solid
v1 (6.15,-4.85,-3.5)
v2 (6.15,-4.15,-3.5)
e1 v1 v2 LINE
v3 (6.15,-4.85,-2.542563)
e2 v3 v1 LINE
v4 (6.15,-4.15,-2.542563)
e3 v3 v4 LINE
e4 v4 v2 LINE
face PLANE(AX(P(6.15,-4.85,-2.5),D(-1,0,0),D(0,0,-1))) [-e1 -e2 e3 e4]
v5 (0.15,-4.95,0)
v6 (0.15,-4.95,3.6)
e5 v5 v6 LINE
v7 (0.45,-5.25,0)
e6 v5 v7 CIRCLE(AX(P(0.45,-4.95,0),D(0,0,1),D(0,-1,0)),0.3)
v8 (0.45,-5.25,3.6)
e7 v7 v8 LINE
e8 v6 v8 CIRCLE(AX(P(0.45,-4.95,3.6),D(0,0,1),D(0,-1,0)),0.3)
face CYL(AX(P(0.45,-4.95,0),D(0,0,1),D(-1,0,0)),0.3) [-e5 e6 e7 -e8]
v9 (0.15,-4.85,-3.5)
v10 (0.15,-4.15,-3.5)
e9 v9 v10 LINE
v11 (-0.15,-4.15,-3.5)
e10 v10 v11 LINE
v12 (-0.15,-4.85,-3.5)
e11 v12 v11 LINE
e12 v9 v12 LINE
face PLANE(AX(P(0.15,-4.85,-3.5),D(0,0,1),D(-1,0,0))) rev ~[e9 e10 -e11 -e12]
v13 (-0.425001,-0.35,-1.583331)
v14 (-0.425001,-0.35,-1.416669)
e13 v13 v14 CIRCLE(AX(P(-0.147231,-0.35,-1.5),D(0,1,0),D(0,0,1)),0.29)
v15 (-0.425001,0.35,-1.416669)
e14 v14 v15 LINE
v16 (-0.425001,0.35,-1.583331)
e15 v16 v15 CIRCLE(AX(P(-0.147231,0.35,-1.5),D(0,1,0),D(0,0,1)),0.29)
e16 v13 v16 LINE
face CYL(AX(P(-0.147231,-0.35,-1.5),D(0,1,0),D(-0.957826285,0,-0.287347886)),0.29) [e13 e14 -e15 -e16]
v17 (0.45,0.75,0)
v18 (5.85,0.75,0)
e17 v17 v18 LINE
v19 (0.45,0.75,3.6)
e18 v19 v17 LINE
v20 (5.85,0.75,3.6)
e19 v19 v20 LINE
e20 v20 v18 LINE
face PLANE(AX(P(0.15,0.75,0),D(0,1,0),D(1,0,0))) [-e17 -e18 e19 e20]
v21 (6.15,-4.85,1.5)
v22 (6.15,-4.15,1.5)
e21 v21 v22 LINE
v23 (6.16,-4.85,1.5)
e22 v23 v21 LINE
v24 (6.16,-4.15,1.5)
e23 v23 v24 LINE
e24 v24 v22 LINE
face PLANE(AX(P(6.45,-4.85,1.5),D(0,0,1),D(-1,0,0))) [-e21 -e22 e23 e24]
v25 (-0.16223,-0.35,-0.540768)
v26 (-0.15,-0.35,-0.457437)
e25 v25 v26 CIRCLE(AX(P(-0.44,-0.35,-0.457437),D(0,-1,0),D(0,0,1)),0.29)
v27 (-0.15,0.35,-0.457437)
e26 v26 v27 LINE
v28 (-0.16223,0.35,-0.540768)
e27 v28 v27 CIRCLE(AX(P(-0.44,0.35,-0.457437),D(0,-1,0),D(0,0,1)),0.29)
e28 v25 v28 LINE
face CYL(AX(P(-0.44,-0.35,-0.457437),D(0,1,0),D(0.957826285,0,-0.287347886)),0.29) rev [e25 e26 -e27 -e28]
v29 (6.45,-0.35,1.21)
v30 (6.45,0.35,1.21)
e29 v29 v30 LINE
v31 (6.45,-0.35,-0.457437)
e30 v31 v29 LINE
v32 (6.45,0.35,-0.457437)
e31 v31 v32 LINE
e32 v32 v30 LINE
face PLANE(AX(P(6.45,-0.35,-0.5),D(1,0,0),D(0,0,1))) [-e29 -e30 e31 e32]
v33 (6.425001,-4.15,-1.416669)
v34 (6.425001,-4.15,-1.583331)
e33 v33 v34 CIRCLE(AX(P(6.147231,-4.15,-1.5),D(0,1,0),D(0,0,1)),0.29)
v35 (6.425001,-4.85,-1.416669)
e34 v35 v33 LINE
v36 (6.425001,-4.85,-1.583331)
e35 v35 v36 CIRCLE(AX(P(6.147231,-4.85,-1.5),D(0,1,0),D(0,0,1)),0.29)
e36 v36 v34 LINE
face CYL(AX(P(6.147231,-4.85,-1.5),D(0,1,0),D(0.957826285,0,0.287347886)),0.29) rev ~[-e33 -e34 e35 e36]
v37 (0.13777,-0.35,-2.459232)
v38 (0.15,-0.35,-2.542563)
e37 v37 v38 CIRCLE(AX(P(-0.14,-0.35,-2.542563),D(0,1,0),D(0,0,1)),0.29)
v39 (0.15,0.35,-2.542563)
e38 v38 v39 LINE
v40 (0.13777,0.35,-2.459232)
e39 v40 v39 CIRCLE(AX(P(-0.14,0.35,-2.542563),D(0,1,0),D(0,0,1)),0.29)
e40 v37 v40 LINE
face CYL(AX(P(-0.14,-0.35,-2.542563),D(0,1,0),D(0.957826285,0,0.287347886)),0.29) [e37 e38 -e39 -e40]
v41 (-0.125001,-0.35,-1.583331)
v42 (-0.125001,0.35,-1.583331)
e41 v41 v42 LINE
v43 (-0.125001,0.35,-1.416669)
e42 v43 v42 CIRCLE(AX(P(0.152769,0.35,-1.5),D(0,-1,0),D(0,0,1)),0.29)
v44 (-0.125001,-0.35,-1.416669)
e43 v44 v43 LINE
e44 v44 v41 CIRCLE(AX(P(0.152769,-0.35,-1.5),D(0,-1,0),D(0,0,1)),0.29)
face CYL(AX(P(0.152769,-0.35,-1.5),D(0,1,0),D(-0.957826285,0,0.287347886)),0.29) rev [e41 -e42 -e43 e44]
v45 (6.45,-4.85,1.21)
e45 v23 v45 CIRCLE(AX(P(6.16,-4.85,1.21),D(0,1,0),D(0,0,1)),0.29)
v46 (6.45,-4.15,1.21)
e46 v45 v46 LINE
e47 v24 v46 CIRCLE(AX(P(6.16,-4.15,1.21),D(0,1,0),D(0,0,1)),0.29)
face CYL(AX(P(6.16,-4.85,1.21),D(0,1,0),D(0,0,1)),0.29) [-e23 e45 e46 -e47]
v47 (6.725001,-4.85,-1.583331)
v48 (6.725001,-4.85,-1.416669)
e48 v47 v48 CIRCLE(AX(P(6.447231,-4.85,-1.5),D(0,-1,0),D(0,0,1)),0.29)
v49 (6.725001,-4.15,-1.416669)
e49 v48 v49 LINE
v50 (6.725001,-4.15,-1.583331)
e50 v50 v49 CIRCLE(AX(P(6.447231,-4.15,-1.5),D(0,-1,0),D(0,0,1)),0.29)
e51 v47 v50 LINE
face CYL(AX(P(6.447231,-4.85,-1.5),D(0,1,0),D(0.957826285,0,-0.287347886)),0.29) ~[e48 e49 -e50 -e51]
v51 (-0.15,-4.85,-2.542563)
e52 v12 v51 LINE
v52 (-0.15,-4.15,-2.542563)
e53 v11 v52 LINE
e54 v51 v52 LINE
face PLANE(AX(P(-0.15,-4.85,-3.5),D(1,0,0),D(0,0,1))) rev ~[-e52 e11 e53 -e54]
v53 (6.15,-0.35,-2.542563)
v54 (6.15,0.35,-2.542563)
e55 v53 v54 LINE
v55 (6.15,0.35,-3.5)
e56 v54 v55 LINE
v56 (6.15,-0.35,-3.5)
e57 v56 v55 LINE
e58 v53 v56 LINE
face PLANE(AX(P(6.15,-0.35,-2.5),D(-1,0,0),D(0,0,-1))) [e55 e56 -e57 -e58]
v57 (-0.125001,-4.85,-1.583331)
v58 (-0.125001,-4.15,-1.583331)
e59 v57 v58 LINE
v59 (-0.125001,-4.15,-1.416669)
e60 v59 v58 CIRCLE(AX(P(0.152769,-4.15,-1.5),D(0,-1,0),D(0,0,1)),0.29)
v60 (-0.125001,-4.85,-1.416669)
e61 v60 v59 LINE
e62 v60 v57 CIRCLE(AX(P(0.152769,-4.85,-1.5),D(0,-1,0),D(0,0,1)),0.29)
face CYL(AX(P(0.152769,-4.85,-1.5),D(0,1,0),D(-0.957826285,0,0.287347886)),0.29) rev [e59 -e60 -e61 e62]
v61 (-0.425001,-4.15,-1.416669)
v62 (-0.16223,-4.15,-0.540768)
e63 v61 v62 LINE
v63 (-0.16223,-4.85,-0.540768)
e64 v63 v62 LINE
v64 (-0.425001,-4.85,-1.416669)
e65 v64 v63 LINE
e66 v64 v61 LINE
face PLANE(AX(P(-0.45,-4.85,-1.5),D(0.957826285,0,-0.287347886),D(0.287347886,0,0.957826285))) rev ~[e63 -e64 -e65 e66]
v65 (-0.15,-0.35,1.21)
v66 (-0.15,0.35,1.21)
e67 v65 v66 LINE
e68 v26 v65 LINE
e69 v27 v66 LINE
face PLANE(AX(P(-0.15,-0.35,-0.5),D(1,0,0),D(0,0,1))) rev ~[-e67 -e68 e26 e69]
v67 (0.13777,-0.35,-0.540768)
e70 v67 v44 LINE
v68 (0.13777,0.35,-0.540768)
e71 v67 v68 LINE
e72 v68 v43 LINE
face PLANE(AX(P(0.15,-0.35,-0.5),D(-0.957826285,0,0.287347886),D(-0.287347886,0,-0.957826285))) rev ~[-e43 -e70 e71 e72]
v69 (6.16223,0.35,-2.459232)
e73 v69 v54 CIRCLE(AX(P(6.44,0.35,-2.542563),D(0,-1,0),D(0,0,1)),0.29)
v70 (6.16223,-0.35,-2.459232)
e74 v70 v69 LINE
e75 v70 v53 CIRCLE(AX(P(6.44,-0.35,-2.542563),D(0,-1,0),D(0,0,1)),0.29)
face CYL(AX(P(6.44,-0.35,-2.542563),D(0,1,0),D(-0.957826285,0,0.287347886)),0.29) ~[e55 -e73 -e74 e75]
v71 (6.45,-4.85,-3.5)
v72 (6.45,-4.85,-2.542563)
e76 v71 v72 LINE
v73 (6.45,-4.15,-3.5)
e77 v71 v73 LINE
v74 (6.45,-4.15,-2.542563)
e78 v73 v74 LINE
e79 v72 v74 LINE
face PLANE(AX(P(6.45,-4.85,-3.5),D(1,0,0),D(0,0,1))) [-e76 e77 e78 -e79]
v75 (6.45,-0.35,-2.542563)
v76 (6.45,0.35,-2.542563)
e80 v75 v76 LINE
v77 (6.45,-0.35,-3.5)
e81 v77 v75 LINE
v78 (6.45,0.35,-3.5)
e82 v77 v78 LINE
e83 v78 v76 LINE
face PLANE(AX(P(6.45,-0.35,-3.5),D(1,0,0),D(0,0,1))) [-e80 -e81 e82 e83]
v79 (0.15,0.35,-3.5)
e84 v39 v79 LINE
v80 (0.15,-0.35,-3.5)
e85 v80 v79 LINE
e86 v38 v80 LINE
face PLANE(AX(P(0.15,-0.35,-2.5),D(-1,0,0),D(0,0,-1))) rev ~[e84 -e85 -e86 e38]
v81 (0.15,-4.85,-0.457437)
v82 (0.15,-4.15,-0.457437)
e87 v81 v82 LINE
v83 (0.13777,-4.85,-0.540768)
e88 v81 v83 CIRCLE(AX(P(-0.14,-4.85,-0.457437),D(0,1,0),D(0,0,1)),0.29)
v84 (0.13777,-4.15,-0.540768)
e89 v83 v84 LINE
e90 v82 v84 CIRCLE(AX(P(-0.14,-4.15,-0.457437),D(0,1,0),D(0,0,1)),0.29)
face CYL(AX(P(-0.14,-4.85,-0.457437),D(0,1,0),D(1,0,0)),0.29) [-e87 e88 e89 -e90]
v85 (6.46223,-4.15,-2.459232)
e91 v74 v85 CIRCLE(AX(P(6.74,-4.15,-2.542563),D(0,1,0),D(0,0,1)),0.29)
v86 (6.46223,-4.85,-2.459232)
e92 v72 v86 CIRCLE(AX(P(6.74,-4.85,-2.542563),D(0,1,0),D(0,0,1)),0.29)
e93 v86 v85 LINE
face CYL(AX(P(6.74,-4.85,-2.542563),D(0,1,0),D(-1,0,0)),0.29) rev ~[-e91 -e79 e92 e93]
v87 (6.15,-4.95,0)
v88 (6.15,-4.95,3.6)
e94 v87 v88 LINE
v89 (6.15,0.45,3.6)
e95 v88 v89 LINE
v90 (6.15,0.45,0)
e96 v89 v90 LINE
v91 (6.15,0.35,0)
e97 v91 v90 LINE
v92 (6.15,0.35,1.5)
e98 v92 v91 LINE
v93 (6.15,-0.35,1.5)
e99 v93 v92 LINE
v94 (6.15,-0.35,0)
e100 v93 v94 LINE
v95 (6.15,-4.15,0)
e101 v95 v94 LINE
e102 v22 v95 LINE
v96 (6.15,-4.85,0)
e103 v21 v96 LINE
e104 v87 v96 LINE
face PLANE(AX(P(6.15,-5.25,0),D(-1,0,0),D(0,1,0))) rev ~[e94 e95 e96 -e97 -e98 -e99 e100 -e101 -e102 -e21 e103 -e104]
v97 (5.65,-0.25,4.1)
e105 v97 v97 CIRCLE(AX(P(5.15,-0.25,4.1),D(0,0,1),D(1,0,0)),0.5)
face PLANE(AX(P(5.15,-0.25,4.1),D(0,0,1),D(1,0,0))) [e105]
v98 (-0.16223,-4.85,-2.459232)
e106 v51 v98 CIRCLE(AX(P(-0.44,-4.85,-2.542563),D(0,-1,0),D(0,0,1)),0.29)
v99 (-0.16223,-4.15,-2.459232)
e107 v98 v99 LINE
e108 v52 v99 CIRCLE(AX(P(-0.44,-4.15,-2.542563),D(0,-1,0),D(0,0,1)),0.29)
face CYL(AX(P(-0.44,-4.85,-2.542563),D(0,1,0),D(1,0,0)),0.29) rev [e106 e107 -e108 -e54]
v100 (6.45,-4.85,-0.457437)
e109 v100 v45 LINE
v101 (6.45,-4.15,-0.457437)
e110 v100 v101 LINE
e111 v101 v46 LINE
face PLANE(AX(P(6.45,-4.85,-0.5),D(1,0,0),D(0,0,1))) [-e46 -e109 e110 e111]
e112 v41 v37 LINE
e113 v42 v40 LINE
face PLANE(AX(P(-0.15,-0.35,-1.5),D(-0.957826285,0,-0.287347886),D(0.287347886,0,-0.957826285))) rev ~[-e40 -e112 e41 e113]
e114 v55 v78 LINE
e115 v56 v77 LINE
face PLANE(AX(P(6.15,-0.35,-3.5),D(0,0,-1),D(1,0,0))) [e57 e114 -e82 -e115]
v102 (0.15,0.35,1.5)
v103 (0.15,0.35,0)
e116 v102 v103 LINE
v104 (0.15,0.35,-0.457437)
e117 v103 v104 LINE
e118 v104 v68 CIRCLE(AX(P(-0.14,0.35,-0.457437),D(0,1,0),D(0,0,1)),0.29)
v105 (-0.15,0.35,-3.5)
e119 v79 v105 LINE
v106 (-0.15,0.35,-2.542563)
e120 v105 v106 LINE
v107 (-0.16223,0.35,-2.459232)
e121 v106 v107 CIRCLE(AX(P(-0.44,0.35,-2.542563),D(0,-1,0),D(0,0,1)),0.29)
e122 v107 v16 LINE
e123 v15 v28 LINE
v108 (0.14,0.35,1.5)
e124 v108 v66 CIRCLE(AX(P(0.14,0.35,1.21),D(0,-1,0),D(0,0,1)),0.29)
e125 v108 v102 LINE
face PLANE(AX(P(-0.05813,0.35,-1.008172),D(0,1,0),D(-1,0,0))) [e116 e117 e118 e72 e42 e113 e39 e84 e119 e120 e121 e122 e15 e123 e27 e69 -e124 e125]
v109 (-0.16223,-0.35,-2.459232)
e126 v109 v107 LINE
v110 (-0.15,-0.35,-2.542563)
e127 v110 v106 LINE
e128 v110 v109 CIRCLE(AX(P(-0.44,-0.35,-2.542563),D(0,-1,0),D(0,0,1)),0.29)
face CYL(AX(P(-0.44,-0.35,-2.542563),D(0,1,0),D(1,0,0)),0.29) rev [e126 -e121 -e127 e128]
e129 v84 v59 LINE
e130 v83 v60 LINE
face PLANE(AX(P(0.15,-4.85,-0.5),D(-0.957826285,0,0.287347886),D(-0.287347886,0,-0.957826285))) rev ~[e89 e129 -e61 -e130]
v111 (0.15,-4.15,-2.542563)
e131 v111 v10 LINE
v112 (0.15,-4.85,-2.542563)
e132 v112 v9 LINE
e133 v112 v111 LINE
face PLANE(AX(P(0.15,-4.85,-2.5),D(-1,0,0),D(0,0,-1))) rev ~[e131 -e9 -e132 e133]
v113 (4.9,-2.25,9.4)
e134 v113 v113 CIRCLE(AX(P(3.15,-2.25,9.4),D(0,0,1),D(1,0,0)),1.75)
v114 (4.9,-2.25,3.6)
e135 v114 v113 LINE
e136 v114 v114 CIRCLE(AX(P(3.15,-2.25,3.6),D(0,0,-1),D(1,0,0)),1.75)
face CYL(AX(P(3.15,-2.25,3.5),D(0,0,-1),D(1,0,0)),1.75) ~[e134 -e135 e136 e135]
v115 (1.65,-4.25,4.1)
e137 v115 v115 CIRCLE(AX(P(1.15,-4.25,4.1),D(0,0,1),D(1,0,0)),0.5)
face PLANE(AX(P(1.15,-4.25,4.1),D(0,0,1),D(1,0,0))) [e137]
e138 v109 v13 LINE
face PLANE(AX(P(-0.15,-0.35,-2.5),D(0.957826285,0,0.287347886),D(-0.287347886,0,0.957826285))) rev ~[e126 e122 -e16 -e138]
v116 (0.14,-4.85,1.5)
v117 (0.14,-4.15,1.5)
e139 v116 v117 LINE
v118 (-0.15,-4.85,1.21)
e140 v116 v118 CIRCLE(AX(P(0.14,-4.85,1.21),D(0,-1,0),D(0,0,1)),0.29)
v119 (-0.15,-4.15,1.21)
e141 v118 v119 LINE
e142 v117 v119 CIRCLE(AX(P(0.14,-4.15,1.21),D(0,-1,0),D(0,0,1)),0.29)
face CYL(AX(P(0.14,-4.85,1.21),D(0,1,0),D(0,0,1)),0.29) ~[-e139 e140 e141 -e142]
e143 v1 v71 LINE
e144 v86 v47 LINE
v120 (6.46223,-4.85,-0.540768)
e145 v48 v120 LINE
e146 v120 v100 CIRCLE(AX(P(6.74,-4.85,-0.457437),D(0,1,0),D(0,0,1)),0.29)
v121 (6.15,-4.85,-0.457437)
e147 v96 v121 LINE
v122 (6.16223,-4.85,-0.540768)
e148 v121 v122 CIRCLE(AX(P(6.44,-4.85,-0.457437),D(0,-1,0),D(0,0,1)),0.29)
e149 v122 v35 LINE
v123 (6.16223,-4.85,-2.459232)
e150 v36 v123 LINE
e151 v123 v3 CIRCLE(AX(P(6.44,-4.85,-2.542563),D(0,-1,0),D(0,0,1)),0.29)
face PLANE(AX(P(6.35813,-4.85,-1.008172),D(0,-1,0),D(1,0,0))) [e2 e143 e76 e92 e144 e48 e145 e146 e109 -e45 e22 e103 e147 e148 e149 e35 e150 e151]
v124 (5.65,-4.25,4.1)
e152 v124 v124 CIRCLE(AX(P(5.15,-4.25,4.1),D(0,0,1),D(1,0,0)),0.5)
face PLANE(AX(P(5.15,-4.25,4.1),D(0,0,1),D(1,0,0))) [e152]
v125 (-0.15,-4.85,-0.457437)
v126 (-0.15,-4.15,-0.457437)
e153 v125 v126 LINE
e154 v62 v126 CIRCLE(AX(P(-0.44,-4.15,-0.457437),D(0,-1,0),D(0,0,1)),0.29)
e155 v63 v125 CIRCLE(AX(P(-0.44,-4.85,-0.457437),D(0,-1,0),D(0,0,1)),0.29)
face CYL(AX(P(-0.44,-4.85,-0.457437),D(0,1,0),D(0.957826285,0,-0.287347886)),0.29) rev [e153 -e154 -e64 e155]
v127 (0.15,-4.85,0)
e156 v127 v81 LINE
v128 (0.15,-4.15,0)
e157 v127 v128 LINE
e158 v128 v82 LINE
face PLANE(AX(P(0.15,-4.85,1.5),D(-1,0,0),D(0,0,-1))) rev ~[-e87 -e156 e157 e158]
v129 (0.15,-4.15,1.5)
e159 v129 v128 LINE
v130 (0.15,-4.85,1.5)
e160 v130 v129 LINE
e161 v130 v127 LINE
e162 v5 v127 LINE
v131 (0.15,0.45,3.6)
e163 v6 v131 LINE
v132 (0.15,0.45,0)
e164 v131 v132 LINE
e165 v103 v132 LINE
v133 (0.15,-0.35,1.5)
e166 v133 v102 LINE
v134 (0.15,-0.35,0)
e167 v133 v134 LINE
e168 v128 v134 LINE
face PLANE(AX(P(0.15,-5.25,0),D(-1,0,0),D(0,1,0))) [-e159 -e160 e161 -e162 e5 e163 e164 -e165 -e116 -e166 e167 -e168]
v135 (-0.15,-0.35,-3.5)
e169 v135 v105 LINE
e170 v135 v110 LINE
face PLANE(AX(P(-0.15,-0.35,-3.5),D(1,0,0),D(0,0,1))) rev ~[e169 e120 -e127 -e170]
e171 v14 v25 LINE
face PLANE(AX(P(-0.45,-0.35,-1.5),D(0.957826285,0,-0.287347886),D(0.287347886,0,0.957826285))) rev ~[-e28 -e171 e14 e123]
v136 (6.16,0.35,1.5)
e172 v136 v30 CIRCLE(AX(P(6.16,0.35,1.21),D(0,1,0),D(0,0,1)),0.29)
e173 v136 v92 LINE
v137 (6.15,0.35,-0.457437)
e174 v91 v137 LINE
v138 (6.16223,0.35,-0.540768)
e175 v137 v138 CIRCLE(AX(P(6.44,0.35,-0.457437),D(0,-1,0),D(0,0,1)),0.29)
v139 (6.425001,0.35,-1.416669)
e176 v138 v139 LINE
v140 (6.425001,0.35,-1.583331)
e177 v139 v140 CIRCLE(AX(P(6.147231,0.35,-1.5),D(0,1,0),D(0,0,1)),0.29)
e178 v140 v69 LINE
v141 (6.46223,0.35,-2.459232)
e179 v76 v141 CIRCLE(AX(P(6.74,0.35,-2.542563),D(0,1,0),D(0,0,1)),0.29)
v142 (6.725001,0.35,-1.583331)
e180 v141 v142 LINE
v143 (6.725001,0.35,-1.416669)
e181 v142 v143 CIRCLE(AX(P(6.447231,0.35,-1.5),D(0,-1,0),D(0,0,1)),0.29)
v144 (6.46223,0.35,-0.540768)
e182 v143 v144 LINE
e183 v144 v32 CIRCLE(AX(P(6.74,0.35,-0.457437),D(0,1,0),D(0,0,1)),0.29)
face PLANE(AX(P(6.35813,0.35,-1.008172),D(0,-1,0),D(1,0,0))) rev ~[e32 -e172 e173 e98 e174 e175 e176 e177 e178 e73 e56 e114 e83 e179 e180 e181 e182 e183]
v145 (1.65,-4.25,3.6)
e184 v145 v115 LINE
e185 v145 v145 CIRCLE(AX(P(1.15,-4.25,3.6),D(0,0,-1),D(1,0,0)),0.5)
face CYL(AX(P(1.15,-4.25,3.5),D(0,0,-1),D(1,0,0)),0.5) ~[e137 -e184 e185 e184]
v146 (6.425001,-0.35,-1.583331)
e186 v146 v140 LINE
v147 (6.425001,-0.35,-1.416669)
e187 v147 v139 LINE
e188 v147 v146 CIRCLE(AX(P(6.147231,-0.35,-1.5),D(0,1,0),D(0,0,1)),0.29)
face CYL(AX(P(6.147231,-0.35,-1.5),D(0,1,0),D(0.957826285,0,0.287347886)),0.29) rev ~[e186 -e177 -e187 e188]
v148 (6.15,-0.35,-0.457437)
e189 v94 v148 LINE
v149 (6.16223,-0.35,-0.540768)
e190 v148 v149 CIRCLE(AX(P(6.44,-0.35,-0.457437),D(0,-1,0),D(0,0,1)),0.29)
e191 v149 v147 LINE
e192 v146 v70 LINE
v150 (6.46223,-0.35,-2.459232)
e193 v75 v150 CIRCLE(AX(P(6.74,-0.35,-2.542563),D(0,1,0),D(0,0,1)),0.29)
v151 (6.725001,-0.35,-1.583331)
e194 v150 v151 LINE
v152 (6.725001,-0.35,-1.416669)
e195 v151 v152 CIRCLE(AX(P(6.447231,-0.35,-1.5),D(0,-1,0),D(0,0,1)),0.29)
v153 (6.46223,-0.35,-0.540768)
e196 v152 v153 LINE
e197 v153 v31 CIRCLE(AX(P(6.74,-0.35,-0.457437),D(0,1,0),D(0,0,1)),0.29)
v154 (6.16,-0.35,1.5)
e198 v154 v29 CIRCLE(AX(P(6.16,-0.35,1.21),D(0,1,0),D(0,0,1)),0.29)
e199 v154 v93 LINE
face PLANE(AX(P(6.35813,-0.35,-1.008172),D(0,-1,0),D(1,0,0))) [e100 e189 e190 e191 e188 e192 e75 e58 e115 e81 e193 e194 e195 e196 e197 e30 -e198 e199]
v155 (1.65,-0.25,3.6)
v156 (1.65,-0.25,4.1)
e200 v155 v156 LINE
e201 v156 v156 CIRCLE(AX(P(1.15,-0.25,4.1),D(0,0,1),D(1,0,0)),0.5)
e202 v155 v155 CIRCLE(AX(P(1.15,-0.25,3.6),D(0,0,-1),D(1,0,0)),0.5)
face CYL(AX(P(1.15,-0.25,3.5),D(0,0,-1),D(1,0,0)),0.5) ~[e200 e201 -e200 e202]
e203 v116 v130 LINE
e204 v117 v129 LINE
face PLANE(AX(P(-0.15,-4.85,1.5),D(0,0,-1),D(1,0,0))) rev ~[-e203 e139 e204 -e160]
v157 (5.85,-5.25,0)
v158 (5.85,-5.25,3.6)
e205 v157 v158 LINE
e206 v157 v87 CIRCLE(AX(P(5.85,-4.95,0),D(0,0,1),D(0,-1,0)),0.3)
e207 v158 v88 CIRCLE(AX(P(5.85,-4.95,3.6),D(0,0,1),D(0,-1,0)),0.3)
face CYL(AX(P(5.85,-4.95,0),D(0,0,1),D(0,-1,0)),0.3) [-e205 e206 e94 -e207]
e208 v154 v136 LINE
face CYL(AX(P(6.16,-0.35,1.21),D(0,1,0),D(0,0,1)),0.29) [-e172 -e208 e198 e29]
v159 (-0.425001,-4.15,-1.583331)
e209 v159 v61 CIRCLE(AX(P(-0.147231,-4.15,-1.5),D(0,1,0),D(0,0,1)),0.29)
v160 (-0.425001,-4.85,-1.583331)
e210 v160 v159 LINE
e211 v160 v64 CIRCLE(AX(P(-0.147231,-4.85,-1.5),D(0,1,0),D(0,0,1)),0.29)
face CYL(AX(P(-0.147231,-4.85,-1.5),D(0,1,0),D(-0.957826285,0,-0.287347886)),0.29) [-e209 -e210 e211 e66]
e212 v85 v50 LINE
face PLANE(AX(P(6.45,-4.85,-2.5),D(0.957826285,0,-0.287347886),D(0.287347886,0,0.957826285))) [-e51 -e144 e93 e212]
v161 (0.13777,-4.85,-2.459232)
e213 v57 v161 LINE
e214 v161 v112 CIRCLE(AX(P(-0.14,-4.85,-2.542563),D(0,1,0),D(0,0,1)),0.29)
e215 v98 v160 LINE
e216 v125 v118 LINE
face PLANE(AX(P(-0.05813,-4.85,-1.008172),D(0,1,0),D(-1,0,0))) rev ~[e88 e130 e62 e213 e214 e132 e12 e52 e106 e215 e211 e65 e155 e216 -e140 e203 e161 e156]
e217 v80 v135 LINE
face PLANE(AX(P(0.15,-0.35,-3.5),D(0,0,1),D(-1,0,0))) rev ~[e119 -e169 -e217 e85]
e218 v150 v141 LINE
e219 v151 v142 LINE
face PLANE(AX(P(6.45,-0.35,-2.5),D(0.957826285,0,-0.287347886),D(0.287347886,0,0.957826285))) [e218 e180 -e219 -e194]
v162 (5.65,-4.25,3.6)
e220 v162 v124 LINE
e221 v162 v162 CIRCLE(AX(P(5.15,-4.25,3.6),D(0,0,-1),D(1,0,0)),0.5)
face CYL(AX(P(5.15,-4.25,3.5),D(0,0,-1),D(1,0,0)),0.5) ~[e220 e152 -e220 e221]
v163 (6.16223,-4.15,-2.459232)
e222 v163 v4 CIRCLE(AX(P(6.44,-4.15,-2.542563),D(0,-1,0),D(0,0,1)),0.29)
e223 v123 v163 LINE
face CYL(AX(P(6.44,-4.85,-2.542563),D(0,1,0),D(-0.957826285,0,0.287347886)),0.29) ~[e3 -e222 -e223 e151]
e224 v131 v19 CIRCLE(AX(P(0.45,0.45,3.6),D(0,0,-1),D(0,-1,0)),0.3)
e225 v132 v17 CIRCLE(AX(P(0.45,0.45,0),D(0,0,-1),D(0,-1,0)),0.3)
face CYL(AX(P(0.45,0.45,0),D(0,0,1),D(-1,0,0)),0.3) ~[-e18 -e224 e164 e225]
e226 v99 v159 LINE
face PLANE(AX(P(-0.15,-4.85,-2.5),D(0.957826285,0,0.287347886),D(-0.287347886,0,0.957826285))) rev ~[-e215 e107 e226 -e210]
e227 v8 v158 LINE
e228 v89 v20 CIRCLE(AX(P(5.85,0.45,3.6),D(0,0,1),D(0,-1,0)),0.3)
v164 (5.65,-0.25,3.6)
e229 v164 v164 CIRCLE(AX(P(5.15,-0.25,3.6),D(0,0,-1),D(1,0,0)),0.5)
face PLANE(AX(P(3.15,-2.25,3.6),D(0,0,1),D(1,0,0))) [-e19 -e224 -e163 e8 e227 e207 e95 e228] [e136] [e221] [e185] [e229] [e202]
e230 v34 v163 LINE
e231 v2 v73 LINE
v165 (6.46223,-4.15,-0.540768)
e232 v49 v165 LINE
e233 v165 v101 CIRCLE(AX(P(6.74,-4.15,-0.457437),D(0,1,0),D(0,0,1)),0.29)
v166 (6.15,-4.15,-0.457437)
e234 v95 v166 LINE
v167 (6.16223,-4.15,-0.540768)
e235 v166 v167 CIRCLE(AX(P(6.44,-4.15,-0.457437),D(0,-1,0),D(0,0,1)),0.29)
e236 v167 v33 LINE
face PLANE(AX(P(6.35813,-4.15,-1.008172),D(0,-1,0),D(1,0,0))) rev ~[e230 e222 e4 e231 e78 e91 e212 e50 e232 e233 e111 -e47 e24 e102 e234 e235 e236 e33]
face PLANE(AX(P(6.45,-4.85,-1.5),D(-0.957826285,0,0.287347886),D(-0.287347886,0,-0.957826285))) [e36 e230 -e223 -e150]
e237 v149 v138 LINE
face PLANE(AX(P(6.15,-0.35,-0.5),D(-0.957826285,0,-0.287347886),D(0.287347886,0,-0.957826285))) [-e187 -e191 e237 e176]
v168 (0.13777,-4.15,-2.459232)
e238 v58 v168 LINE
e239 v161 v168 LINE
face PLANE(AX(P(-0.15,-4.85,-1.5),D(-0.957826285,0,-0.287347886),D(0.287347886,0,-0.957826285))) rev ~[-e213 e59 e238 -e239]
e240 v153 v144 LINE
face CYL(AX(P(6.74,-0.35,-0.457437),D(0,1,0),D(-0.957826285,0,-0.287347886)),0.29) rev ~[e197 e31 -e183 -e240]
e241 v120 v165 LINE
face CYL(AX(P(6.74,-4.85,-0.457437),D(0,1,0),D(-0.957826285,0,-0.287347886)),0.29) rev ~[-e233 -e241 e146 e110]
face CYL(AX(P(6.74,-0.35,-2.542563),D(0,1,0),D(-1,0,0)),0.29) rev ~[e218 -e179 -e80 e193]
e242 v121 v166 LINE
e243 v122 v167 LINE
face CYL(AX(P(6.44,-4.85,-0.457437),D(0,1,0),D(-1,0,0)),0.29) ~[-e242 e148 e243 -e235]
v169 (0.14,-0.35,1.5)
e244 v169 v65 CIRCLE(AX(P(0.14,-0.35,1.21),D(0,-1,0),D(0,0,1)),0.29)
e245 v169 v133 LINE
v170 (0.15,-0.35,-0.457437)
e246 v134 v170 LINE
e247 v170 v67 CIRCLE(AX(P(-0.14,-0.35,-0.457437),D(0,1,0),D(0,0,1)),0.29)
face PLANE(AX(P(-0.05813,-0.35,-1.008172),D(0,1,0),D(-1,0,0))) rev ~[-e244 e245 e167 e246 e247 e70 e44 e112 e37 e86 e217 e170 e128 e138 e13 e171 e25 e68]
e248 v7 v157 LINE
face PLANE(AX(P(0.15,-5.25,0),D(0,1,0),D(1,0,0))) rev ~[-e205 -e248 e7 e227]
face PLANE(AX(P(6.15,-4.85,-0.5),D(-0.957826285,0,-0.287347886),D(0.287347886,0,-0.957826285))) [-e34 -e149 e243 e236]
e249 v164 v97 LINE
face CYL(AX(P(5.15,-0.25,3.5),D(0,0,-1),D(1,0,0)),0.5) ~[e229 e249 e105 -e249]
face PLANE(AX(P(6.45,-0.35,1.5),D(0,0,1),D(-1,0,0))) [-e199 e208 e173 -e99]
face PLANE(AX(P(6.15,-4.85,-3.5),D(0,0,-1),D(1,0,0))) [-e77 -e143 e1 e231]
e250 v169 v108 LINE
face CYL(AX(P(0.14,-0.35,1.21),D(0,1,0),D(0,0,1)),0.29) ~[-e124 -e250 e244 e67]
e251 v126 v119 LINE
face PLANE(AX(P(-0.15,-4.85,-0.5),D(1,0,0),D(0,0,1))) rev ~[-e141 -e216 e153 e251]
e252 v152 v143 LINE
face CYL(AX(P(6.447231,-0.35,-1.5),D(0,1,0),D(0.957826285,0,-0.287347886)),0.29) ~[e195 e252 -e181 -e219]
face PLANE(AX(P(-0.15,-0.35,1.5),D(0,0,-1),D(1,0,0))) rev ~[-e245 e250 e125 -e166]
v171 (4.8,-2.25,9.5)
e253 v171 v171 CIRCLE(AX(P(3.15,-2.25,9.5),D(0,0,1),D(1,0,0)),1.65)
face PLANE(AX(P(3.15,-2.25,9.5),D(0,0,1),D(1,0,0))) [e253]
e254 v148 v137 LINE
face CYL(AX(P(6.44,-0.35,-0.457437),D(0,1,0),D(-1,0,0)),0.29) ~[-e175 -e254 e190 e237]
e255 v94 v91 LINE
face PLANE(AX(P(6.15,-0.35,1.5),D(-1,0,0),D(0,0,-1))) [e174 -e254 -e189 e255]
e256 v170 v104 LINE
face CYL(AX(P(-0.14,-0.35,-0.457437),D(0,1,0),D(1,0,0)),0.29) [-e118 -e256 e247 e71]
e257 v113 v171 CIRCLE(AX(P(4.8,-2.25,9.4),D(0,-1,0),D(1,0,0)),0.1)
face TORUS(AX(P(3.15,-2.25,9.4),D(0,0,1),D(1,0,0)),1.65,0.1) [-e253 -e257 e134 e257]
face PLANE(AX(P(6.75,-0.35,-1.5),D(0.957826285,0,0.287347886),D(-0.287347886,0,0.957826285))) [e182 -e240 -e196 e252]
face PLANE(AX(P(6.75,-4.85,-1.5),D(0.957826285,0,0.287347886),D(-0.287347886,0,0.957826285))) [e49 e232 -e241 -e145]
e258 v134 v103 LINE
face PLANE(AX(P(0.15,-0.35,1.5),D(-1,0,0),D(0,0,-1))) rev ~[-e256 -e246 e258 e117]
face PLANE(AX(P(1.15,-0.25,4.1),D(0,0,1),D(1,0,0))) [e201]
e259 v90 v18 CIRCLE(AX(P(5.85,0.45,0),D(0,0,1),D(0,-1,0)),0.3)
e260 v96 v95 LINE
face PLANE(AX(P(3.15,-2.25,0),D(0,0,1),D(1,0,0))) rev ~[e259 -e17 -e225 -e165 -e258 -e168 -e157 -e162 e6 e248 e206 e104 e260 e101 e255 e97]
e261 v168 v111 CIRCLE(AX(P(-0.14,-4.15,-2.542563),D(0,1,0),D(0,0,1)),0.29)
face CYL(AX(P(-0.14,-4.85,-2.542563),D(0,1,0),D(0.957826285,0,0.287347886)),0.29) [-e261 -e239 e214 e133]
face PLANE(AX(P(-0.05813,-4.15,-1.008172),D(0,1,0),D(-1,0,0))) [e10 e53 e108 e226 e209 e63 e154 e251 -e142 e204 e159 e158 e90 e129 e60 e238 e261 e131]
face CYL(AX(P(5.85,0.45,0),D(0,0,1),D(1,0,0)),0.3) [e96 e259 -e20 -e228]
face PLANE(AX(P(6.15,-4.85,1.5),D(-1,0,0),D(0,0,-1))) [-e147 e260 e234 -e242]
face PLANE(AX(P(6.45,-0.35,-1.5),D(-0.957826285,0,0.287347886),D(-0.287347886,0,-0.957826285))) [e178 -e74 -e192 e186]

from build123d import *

# Parameters (mm, degrees)
SKETCH001_W  = 6
SKETCH001_H  = 6
PAD001_DEPTH = 0.1
FILLET001_R  = 0.3
PAD008_DEPTH = 0.7
FILLET003_R  = 0.29
PAD009_DEPTH = 0.7
FILLET004_R  = 0.29
PAD010_DEPTH = 0.7
FILLET005_R  = 0.29
SKETCH_W     = 6
SKETCH_H     = 6
PAD_DEPTH    = 3.5
FILLET_R     = 0.3
SKETCH004_R  = 0.5
PAD003_DEPTH = 0.6
SKETCH003_R  = 0.5
PAD004_DEPTH = 0.6
SKETCH005_R  = 0.5
PAD002_DEPTH = 0.6
SKETCH002_R  = 0.5
PAD005_DEPTH = 0.6
SKETCH006_R  = 1.75
PAD006_DEPTH = 6
FILLET006_R  = 0.1
PAD007_DEPTH = 0.7
FILLET002_R  = 0.29


with BuildPart() as fillet001:
    # Sketch001 → Pad001 (new body)
    with BuildSketch(Plane.XY.offset(3.5)):
        with Locations((3.15, -2.25)):
            Rectangle(SKETCH001_W, SKETCH001_H)
    extrude(amount=PAD001_DEPTH)

    # Fillet001
    fillet001_edges = [fillet001.edges().sort_by_distance(p)[0] for p in [
        (6.15, -5.25, 3.55),
        (0.15, -5.25, 3.55),
        (6.15, 0.75, 3.55),
        (0.15, 0.75, 3.55),
    ]]
    fillet(fillet001_edges, radius=FILLET001_R)


with BuildPart() as fillet003:
    # Sketch008 → Pad008 (new body)
    with BuildSketch(Plane.XZ.offset(0.35)):
        Polygon((-0.15, 1.5), (0.15, 1.5), (0.15, -0.5), (-0.15, -1.5), (0.15, -2.5), (0.15, -3.5), (-0.15, -3.5), (-0.15, -2.5), (-0.45, -1.5), (-0.15, -0.5), align=None)
    extrude(amount=-PAD008_DEPTH)

    # Fillet003
    fillet003_edges = [fillet003.edges().sort_by_distance(p)[0] for p in [
        (-0.15, 0, -2.5),
        (-0.15, 0, -0.5),
        (-0.45, 0, -1.5),
        (-0.15, 0, 1.5),
        (0.15, 0, -0.5),
        (-0.15, 0, -1.5),
        (0.15, 0, -2.5),
    ]]
    fillet(fillet003_edges, radius=FILLET003_R)


with BuildPart() as fillet004:
    # Sketch009 → Pad009 (new body)
    with BuildSketch(Plane.XZ.offset(4.85)):
        Polygon((6.45, 1.5), (6.15, 1.5), (6.15, -0.5), (6.45, -1.5), (6.15, -2.5), (6.15, -3.5), (6.45, -3.5), (6.45, -2.5), (6.75, -1.5), (6.45, -0.5), align=None)
    extrude(amount=-PAD009_DEPTH)

    # Fillet004
    fillet004_edges = [fillet004.edges().sort_by_distance(p)[0] for p in [
        (6.45, -4.5, -2.5),
        (6.45, -4.5, -0.5),
        (6.75, -4.5, -1.5),
        (6.45, -4.5, 1.5),
        (6.15, -4.5, -0.5),
        (6.45, -4.5, -1.5),
        (6.15, -4.5, -2.5),
    ]]
    fillet(fillet004_edges, radius=FILLET004_R)


with BuildPart() as fillet005:
    # Sketch010 → Pad010 (new body)
    with BuildSketch(Plane.XZ.offset(0.35)):
        Polygon((6.45, 1.5), (6.15, 1.5), (6.15, -0.5), (6.45, -1.5), (6.15, -2.5), (6.15, -3.5), (6.45, -3.5), (6.45, -2.5), (6.75, -1.5), (6.45, -0.5), align=None)
    extrude(amount=-PAD010_DEPTH)

    # Fillet005
    fillet005_edges = [fillet005.edges().sort_by_distance(p)[0] for p in [
        (6.45, 0, -2.5),
        (6.45, 0, -0.5),
        (6.75, 0, -1.5),
        (6.45, 0, 1.5),
        (6.15, 0, -0.5),
        (6.45, 0, -1.5),
        (6.15, 0, -2.5),
    ]]
    fillet(fillet005_edges, radius=FILLET005_R)


with BuildPart() as fillet_body:
    # Sketch → Pad (new body)
    with BuildSketch(Plane.XY):
        with Locations((3.15, -2.25)):
            Rectangle(SKETCH_W, SKETCH_H)
    extrude(amount=PAD_DEPTH)

    # Fillet
    fillet_edges = [fillet_body.edges().sort_by_distance(p)[0] for p in [
        (6.15, 0.75, 1.75),
        (6.15, -5.25, 1.75),
        (0.15, -5.25, 1.75),
        (0.15, 0.75, 1.75),
    ]]
    fillet(fillet_edges, radius=FILLET_R)


with BuildPart() as pad003:
    # Pad003 base: copy of Fillet body
    add(fillet_body.part)

    # Sketch004 → Pad003 (new body)
    with BuildSketch(Plane.XY.offset(3.5)):
        with Locations((5.15, -0.25)):
            Circle(SKETCH004_R)
    extrude(amount=PAD003_DEPTH)


with BuildPart() as pad004:
    # Pad004 base: copy of Fillet body
    add(fillet_body.part)

    # Sketch003 → Pad004 (new body)
    with BuildSketch(Plane.XY.offset(3.5)):
        with Locations((5.15, -4.25)):
            Circle(SKETCH003_R)
    extrude(amount=PAD004_DEPTH)


with BuildPart() as pad002:
    # Pad002 base: copy of Fillet body
    add(fillet_body.part)

    # Sketch005 → Pad002 (new body)
    with BuildSketch(Plane.XY.offset(3.5)):
        with Locations((1.15, -0.25)):
            Circle(SKETCH005_R)
    extrude(amount=PAD002_DEPTH)


with BuildPart() as pad005:
    # Pad005 base: copy of Fillet body
    add(fillet_body.part)

    # Sketch002 → Pad005 (new body)
    with BuildSketch(Plane.XY.offset(3.5)):
        with Locations((1.15, -4.25)):
            Circle(SKETCH002_R)
    extrude(amount=PAD005_DEPTH)


with BuildPart() as fillet006:
    # Pad006 base: copy of Fillet body
    add(fillet_body.part)

    # Sketch006 → Pad006 (new body)
    with BuildSketch(Plane.XY.offset(3.5)):
        with Locations((3.15, -2.25)):
            Circle(SKETCH006_R)
    extrude(amount=PAD006_DEPTH)

    # Fillet006
    fillet006_edges = [fillet006.edges().sort_by_distance(p)[0] for p in [
        (1.4, -2.25, 9.5),
    ]]
    fillet(fillet006_edges, radius=FILLET006_R)


with BuildPart() as sw_push_6mm_h9_5mm:
    # Sketch007 → Pad007 (new body)
    with BuildSketch(Plane.XZ.offset(4.85)):
        Polygon((-0.15, 1.5), (0.15, 1.5), (0.15, -0.5), (-0.15, -1.5), (0.15, -2.5), (0.15, -3.5), (-0.15, -3.5), (-0.15, -2.5), (-0.45, -1.5), (-0.15, -0.5), align=None)
    extrude(amount=-PAD007_DEPTH)

    # Fillet002
    fillet002_edges = [sw_push_6mm_h9_5mm.edges().sort_by_distance(p)[0] for p in [
        (-0.15, -4.5, -2.5),
        (-0.15, -4.5, -0.5),
        (-0.45, -4.5, -1.5),
        (-0.15, -4.5, 1.5),
        (0.15, -4.5, -0.5),
        (-0.15, -4.5, -1.5),
        (0.15, -4.5, -2.5),
    ]]
    fillet(fillet002_edges, radius=FILLET002_R)

    # Fillet002_mp_cp: union Fillet001, Fillet003, Fillet004, Fillet005, Pad003, Pad004, Pad002, Pad005, Fillet006
    add(fillet001.part)
    add(fillet003.part)
    add(fillet004.part)
    add(fillet005.part)
    add(pad003.part)
    add(pad004.part)
    add(pad002.part)
    add(pad005.part)
    add(fillet006.part)


solid = sw_push_6mm_h9_5mm.part
